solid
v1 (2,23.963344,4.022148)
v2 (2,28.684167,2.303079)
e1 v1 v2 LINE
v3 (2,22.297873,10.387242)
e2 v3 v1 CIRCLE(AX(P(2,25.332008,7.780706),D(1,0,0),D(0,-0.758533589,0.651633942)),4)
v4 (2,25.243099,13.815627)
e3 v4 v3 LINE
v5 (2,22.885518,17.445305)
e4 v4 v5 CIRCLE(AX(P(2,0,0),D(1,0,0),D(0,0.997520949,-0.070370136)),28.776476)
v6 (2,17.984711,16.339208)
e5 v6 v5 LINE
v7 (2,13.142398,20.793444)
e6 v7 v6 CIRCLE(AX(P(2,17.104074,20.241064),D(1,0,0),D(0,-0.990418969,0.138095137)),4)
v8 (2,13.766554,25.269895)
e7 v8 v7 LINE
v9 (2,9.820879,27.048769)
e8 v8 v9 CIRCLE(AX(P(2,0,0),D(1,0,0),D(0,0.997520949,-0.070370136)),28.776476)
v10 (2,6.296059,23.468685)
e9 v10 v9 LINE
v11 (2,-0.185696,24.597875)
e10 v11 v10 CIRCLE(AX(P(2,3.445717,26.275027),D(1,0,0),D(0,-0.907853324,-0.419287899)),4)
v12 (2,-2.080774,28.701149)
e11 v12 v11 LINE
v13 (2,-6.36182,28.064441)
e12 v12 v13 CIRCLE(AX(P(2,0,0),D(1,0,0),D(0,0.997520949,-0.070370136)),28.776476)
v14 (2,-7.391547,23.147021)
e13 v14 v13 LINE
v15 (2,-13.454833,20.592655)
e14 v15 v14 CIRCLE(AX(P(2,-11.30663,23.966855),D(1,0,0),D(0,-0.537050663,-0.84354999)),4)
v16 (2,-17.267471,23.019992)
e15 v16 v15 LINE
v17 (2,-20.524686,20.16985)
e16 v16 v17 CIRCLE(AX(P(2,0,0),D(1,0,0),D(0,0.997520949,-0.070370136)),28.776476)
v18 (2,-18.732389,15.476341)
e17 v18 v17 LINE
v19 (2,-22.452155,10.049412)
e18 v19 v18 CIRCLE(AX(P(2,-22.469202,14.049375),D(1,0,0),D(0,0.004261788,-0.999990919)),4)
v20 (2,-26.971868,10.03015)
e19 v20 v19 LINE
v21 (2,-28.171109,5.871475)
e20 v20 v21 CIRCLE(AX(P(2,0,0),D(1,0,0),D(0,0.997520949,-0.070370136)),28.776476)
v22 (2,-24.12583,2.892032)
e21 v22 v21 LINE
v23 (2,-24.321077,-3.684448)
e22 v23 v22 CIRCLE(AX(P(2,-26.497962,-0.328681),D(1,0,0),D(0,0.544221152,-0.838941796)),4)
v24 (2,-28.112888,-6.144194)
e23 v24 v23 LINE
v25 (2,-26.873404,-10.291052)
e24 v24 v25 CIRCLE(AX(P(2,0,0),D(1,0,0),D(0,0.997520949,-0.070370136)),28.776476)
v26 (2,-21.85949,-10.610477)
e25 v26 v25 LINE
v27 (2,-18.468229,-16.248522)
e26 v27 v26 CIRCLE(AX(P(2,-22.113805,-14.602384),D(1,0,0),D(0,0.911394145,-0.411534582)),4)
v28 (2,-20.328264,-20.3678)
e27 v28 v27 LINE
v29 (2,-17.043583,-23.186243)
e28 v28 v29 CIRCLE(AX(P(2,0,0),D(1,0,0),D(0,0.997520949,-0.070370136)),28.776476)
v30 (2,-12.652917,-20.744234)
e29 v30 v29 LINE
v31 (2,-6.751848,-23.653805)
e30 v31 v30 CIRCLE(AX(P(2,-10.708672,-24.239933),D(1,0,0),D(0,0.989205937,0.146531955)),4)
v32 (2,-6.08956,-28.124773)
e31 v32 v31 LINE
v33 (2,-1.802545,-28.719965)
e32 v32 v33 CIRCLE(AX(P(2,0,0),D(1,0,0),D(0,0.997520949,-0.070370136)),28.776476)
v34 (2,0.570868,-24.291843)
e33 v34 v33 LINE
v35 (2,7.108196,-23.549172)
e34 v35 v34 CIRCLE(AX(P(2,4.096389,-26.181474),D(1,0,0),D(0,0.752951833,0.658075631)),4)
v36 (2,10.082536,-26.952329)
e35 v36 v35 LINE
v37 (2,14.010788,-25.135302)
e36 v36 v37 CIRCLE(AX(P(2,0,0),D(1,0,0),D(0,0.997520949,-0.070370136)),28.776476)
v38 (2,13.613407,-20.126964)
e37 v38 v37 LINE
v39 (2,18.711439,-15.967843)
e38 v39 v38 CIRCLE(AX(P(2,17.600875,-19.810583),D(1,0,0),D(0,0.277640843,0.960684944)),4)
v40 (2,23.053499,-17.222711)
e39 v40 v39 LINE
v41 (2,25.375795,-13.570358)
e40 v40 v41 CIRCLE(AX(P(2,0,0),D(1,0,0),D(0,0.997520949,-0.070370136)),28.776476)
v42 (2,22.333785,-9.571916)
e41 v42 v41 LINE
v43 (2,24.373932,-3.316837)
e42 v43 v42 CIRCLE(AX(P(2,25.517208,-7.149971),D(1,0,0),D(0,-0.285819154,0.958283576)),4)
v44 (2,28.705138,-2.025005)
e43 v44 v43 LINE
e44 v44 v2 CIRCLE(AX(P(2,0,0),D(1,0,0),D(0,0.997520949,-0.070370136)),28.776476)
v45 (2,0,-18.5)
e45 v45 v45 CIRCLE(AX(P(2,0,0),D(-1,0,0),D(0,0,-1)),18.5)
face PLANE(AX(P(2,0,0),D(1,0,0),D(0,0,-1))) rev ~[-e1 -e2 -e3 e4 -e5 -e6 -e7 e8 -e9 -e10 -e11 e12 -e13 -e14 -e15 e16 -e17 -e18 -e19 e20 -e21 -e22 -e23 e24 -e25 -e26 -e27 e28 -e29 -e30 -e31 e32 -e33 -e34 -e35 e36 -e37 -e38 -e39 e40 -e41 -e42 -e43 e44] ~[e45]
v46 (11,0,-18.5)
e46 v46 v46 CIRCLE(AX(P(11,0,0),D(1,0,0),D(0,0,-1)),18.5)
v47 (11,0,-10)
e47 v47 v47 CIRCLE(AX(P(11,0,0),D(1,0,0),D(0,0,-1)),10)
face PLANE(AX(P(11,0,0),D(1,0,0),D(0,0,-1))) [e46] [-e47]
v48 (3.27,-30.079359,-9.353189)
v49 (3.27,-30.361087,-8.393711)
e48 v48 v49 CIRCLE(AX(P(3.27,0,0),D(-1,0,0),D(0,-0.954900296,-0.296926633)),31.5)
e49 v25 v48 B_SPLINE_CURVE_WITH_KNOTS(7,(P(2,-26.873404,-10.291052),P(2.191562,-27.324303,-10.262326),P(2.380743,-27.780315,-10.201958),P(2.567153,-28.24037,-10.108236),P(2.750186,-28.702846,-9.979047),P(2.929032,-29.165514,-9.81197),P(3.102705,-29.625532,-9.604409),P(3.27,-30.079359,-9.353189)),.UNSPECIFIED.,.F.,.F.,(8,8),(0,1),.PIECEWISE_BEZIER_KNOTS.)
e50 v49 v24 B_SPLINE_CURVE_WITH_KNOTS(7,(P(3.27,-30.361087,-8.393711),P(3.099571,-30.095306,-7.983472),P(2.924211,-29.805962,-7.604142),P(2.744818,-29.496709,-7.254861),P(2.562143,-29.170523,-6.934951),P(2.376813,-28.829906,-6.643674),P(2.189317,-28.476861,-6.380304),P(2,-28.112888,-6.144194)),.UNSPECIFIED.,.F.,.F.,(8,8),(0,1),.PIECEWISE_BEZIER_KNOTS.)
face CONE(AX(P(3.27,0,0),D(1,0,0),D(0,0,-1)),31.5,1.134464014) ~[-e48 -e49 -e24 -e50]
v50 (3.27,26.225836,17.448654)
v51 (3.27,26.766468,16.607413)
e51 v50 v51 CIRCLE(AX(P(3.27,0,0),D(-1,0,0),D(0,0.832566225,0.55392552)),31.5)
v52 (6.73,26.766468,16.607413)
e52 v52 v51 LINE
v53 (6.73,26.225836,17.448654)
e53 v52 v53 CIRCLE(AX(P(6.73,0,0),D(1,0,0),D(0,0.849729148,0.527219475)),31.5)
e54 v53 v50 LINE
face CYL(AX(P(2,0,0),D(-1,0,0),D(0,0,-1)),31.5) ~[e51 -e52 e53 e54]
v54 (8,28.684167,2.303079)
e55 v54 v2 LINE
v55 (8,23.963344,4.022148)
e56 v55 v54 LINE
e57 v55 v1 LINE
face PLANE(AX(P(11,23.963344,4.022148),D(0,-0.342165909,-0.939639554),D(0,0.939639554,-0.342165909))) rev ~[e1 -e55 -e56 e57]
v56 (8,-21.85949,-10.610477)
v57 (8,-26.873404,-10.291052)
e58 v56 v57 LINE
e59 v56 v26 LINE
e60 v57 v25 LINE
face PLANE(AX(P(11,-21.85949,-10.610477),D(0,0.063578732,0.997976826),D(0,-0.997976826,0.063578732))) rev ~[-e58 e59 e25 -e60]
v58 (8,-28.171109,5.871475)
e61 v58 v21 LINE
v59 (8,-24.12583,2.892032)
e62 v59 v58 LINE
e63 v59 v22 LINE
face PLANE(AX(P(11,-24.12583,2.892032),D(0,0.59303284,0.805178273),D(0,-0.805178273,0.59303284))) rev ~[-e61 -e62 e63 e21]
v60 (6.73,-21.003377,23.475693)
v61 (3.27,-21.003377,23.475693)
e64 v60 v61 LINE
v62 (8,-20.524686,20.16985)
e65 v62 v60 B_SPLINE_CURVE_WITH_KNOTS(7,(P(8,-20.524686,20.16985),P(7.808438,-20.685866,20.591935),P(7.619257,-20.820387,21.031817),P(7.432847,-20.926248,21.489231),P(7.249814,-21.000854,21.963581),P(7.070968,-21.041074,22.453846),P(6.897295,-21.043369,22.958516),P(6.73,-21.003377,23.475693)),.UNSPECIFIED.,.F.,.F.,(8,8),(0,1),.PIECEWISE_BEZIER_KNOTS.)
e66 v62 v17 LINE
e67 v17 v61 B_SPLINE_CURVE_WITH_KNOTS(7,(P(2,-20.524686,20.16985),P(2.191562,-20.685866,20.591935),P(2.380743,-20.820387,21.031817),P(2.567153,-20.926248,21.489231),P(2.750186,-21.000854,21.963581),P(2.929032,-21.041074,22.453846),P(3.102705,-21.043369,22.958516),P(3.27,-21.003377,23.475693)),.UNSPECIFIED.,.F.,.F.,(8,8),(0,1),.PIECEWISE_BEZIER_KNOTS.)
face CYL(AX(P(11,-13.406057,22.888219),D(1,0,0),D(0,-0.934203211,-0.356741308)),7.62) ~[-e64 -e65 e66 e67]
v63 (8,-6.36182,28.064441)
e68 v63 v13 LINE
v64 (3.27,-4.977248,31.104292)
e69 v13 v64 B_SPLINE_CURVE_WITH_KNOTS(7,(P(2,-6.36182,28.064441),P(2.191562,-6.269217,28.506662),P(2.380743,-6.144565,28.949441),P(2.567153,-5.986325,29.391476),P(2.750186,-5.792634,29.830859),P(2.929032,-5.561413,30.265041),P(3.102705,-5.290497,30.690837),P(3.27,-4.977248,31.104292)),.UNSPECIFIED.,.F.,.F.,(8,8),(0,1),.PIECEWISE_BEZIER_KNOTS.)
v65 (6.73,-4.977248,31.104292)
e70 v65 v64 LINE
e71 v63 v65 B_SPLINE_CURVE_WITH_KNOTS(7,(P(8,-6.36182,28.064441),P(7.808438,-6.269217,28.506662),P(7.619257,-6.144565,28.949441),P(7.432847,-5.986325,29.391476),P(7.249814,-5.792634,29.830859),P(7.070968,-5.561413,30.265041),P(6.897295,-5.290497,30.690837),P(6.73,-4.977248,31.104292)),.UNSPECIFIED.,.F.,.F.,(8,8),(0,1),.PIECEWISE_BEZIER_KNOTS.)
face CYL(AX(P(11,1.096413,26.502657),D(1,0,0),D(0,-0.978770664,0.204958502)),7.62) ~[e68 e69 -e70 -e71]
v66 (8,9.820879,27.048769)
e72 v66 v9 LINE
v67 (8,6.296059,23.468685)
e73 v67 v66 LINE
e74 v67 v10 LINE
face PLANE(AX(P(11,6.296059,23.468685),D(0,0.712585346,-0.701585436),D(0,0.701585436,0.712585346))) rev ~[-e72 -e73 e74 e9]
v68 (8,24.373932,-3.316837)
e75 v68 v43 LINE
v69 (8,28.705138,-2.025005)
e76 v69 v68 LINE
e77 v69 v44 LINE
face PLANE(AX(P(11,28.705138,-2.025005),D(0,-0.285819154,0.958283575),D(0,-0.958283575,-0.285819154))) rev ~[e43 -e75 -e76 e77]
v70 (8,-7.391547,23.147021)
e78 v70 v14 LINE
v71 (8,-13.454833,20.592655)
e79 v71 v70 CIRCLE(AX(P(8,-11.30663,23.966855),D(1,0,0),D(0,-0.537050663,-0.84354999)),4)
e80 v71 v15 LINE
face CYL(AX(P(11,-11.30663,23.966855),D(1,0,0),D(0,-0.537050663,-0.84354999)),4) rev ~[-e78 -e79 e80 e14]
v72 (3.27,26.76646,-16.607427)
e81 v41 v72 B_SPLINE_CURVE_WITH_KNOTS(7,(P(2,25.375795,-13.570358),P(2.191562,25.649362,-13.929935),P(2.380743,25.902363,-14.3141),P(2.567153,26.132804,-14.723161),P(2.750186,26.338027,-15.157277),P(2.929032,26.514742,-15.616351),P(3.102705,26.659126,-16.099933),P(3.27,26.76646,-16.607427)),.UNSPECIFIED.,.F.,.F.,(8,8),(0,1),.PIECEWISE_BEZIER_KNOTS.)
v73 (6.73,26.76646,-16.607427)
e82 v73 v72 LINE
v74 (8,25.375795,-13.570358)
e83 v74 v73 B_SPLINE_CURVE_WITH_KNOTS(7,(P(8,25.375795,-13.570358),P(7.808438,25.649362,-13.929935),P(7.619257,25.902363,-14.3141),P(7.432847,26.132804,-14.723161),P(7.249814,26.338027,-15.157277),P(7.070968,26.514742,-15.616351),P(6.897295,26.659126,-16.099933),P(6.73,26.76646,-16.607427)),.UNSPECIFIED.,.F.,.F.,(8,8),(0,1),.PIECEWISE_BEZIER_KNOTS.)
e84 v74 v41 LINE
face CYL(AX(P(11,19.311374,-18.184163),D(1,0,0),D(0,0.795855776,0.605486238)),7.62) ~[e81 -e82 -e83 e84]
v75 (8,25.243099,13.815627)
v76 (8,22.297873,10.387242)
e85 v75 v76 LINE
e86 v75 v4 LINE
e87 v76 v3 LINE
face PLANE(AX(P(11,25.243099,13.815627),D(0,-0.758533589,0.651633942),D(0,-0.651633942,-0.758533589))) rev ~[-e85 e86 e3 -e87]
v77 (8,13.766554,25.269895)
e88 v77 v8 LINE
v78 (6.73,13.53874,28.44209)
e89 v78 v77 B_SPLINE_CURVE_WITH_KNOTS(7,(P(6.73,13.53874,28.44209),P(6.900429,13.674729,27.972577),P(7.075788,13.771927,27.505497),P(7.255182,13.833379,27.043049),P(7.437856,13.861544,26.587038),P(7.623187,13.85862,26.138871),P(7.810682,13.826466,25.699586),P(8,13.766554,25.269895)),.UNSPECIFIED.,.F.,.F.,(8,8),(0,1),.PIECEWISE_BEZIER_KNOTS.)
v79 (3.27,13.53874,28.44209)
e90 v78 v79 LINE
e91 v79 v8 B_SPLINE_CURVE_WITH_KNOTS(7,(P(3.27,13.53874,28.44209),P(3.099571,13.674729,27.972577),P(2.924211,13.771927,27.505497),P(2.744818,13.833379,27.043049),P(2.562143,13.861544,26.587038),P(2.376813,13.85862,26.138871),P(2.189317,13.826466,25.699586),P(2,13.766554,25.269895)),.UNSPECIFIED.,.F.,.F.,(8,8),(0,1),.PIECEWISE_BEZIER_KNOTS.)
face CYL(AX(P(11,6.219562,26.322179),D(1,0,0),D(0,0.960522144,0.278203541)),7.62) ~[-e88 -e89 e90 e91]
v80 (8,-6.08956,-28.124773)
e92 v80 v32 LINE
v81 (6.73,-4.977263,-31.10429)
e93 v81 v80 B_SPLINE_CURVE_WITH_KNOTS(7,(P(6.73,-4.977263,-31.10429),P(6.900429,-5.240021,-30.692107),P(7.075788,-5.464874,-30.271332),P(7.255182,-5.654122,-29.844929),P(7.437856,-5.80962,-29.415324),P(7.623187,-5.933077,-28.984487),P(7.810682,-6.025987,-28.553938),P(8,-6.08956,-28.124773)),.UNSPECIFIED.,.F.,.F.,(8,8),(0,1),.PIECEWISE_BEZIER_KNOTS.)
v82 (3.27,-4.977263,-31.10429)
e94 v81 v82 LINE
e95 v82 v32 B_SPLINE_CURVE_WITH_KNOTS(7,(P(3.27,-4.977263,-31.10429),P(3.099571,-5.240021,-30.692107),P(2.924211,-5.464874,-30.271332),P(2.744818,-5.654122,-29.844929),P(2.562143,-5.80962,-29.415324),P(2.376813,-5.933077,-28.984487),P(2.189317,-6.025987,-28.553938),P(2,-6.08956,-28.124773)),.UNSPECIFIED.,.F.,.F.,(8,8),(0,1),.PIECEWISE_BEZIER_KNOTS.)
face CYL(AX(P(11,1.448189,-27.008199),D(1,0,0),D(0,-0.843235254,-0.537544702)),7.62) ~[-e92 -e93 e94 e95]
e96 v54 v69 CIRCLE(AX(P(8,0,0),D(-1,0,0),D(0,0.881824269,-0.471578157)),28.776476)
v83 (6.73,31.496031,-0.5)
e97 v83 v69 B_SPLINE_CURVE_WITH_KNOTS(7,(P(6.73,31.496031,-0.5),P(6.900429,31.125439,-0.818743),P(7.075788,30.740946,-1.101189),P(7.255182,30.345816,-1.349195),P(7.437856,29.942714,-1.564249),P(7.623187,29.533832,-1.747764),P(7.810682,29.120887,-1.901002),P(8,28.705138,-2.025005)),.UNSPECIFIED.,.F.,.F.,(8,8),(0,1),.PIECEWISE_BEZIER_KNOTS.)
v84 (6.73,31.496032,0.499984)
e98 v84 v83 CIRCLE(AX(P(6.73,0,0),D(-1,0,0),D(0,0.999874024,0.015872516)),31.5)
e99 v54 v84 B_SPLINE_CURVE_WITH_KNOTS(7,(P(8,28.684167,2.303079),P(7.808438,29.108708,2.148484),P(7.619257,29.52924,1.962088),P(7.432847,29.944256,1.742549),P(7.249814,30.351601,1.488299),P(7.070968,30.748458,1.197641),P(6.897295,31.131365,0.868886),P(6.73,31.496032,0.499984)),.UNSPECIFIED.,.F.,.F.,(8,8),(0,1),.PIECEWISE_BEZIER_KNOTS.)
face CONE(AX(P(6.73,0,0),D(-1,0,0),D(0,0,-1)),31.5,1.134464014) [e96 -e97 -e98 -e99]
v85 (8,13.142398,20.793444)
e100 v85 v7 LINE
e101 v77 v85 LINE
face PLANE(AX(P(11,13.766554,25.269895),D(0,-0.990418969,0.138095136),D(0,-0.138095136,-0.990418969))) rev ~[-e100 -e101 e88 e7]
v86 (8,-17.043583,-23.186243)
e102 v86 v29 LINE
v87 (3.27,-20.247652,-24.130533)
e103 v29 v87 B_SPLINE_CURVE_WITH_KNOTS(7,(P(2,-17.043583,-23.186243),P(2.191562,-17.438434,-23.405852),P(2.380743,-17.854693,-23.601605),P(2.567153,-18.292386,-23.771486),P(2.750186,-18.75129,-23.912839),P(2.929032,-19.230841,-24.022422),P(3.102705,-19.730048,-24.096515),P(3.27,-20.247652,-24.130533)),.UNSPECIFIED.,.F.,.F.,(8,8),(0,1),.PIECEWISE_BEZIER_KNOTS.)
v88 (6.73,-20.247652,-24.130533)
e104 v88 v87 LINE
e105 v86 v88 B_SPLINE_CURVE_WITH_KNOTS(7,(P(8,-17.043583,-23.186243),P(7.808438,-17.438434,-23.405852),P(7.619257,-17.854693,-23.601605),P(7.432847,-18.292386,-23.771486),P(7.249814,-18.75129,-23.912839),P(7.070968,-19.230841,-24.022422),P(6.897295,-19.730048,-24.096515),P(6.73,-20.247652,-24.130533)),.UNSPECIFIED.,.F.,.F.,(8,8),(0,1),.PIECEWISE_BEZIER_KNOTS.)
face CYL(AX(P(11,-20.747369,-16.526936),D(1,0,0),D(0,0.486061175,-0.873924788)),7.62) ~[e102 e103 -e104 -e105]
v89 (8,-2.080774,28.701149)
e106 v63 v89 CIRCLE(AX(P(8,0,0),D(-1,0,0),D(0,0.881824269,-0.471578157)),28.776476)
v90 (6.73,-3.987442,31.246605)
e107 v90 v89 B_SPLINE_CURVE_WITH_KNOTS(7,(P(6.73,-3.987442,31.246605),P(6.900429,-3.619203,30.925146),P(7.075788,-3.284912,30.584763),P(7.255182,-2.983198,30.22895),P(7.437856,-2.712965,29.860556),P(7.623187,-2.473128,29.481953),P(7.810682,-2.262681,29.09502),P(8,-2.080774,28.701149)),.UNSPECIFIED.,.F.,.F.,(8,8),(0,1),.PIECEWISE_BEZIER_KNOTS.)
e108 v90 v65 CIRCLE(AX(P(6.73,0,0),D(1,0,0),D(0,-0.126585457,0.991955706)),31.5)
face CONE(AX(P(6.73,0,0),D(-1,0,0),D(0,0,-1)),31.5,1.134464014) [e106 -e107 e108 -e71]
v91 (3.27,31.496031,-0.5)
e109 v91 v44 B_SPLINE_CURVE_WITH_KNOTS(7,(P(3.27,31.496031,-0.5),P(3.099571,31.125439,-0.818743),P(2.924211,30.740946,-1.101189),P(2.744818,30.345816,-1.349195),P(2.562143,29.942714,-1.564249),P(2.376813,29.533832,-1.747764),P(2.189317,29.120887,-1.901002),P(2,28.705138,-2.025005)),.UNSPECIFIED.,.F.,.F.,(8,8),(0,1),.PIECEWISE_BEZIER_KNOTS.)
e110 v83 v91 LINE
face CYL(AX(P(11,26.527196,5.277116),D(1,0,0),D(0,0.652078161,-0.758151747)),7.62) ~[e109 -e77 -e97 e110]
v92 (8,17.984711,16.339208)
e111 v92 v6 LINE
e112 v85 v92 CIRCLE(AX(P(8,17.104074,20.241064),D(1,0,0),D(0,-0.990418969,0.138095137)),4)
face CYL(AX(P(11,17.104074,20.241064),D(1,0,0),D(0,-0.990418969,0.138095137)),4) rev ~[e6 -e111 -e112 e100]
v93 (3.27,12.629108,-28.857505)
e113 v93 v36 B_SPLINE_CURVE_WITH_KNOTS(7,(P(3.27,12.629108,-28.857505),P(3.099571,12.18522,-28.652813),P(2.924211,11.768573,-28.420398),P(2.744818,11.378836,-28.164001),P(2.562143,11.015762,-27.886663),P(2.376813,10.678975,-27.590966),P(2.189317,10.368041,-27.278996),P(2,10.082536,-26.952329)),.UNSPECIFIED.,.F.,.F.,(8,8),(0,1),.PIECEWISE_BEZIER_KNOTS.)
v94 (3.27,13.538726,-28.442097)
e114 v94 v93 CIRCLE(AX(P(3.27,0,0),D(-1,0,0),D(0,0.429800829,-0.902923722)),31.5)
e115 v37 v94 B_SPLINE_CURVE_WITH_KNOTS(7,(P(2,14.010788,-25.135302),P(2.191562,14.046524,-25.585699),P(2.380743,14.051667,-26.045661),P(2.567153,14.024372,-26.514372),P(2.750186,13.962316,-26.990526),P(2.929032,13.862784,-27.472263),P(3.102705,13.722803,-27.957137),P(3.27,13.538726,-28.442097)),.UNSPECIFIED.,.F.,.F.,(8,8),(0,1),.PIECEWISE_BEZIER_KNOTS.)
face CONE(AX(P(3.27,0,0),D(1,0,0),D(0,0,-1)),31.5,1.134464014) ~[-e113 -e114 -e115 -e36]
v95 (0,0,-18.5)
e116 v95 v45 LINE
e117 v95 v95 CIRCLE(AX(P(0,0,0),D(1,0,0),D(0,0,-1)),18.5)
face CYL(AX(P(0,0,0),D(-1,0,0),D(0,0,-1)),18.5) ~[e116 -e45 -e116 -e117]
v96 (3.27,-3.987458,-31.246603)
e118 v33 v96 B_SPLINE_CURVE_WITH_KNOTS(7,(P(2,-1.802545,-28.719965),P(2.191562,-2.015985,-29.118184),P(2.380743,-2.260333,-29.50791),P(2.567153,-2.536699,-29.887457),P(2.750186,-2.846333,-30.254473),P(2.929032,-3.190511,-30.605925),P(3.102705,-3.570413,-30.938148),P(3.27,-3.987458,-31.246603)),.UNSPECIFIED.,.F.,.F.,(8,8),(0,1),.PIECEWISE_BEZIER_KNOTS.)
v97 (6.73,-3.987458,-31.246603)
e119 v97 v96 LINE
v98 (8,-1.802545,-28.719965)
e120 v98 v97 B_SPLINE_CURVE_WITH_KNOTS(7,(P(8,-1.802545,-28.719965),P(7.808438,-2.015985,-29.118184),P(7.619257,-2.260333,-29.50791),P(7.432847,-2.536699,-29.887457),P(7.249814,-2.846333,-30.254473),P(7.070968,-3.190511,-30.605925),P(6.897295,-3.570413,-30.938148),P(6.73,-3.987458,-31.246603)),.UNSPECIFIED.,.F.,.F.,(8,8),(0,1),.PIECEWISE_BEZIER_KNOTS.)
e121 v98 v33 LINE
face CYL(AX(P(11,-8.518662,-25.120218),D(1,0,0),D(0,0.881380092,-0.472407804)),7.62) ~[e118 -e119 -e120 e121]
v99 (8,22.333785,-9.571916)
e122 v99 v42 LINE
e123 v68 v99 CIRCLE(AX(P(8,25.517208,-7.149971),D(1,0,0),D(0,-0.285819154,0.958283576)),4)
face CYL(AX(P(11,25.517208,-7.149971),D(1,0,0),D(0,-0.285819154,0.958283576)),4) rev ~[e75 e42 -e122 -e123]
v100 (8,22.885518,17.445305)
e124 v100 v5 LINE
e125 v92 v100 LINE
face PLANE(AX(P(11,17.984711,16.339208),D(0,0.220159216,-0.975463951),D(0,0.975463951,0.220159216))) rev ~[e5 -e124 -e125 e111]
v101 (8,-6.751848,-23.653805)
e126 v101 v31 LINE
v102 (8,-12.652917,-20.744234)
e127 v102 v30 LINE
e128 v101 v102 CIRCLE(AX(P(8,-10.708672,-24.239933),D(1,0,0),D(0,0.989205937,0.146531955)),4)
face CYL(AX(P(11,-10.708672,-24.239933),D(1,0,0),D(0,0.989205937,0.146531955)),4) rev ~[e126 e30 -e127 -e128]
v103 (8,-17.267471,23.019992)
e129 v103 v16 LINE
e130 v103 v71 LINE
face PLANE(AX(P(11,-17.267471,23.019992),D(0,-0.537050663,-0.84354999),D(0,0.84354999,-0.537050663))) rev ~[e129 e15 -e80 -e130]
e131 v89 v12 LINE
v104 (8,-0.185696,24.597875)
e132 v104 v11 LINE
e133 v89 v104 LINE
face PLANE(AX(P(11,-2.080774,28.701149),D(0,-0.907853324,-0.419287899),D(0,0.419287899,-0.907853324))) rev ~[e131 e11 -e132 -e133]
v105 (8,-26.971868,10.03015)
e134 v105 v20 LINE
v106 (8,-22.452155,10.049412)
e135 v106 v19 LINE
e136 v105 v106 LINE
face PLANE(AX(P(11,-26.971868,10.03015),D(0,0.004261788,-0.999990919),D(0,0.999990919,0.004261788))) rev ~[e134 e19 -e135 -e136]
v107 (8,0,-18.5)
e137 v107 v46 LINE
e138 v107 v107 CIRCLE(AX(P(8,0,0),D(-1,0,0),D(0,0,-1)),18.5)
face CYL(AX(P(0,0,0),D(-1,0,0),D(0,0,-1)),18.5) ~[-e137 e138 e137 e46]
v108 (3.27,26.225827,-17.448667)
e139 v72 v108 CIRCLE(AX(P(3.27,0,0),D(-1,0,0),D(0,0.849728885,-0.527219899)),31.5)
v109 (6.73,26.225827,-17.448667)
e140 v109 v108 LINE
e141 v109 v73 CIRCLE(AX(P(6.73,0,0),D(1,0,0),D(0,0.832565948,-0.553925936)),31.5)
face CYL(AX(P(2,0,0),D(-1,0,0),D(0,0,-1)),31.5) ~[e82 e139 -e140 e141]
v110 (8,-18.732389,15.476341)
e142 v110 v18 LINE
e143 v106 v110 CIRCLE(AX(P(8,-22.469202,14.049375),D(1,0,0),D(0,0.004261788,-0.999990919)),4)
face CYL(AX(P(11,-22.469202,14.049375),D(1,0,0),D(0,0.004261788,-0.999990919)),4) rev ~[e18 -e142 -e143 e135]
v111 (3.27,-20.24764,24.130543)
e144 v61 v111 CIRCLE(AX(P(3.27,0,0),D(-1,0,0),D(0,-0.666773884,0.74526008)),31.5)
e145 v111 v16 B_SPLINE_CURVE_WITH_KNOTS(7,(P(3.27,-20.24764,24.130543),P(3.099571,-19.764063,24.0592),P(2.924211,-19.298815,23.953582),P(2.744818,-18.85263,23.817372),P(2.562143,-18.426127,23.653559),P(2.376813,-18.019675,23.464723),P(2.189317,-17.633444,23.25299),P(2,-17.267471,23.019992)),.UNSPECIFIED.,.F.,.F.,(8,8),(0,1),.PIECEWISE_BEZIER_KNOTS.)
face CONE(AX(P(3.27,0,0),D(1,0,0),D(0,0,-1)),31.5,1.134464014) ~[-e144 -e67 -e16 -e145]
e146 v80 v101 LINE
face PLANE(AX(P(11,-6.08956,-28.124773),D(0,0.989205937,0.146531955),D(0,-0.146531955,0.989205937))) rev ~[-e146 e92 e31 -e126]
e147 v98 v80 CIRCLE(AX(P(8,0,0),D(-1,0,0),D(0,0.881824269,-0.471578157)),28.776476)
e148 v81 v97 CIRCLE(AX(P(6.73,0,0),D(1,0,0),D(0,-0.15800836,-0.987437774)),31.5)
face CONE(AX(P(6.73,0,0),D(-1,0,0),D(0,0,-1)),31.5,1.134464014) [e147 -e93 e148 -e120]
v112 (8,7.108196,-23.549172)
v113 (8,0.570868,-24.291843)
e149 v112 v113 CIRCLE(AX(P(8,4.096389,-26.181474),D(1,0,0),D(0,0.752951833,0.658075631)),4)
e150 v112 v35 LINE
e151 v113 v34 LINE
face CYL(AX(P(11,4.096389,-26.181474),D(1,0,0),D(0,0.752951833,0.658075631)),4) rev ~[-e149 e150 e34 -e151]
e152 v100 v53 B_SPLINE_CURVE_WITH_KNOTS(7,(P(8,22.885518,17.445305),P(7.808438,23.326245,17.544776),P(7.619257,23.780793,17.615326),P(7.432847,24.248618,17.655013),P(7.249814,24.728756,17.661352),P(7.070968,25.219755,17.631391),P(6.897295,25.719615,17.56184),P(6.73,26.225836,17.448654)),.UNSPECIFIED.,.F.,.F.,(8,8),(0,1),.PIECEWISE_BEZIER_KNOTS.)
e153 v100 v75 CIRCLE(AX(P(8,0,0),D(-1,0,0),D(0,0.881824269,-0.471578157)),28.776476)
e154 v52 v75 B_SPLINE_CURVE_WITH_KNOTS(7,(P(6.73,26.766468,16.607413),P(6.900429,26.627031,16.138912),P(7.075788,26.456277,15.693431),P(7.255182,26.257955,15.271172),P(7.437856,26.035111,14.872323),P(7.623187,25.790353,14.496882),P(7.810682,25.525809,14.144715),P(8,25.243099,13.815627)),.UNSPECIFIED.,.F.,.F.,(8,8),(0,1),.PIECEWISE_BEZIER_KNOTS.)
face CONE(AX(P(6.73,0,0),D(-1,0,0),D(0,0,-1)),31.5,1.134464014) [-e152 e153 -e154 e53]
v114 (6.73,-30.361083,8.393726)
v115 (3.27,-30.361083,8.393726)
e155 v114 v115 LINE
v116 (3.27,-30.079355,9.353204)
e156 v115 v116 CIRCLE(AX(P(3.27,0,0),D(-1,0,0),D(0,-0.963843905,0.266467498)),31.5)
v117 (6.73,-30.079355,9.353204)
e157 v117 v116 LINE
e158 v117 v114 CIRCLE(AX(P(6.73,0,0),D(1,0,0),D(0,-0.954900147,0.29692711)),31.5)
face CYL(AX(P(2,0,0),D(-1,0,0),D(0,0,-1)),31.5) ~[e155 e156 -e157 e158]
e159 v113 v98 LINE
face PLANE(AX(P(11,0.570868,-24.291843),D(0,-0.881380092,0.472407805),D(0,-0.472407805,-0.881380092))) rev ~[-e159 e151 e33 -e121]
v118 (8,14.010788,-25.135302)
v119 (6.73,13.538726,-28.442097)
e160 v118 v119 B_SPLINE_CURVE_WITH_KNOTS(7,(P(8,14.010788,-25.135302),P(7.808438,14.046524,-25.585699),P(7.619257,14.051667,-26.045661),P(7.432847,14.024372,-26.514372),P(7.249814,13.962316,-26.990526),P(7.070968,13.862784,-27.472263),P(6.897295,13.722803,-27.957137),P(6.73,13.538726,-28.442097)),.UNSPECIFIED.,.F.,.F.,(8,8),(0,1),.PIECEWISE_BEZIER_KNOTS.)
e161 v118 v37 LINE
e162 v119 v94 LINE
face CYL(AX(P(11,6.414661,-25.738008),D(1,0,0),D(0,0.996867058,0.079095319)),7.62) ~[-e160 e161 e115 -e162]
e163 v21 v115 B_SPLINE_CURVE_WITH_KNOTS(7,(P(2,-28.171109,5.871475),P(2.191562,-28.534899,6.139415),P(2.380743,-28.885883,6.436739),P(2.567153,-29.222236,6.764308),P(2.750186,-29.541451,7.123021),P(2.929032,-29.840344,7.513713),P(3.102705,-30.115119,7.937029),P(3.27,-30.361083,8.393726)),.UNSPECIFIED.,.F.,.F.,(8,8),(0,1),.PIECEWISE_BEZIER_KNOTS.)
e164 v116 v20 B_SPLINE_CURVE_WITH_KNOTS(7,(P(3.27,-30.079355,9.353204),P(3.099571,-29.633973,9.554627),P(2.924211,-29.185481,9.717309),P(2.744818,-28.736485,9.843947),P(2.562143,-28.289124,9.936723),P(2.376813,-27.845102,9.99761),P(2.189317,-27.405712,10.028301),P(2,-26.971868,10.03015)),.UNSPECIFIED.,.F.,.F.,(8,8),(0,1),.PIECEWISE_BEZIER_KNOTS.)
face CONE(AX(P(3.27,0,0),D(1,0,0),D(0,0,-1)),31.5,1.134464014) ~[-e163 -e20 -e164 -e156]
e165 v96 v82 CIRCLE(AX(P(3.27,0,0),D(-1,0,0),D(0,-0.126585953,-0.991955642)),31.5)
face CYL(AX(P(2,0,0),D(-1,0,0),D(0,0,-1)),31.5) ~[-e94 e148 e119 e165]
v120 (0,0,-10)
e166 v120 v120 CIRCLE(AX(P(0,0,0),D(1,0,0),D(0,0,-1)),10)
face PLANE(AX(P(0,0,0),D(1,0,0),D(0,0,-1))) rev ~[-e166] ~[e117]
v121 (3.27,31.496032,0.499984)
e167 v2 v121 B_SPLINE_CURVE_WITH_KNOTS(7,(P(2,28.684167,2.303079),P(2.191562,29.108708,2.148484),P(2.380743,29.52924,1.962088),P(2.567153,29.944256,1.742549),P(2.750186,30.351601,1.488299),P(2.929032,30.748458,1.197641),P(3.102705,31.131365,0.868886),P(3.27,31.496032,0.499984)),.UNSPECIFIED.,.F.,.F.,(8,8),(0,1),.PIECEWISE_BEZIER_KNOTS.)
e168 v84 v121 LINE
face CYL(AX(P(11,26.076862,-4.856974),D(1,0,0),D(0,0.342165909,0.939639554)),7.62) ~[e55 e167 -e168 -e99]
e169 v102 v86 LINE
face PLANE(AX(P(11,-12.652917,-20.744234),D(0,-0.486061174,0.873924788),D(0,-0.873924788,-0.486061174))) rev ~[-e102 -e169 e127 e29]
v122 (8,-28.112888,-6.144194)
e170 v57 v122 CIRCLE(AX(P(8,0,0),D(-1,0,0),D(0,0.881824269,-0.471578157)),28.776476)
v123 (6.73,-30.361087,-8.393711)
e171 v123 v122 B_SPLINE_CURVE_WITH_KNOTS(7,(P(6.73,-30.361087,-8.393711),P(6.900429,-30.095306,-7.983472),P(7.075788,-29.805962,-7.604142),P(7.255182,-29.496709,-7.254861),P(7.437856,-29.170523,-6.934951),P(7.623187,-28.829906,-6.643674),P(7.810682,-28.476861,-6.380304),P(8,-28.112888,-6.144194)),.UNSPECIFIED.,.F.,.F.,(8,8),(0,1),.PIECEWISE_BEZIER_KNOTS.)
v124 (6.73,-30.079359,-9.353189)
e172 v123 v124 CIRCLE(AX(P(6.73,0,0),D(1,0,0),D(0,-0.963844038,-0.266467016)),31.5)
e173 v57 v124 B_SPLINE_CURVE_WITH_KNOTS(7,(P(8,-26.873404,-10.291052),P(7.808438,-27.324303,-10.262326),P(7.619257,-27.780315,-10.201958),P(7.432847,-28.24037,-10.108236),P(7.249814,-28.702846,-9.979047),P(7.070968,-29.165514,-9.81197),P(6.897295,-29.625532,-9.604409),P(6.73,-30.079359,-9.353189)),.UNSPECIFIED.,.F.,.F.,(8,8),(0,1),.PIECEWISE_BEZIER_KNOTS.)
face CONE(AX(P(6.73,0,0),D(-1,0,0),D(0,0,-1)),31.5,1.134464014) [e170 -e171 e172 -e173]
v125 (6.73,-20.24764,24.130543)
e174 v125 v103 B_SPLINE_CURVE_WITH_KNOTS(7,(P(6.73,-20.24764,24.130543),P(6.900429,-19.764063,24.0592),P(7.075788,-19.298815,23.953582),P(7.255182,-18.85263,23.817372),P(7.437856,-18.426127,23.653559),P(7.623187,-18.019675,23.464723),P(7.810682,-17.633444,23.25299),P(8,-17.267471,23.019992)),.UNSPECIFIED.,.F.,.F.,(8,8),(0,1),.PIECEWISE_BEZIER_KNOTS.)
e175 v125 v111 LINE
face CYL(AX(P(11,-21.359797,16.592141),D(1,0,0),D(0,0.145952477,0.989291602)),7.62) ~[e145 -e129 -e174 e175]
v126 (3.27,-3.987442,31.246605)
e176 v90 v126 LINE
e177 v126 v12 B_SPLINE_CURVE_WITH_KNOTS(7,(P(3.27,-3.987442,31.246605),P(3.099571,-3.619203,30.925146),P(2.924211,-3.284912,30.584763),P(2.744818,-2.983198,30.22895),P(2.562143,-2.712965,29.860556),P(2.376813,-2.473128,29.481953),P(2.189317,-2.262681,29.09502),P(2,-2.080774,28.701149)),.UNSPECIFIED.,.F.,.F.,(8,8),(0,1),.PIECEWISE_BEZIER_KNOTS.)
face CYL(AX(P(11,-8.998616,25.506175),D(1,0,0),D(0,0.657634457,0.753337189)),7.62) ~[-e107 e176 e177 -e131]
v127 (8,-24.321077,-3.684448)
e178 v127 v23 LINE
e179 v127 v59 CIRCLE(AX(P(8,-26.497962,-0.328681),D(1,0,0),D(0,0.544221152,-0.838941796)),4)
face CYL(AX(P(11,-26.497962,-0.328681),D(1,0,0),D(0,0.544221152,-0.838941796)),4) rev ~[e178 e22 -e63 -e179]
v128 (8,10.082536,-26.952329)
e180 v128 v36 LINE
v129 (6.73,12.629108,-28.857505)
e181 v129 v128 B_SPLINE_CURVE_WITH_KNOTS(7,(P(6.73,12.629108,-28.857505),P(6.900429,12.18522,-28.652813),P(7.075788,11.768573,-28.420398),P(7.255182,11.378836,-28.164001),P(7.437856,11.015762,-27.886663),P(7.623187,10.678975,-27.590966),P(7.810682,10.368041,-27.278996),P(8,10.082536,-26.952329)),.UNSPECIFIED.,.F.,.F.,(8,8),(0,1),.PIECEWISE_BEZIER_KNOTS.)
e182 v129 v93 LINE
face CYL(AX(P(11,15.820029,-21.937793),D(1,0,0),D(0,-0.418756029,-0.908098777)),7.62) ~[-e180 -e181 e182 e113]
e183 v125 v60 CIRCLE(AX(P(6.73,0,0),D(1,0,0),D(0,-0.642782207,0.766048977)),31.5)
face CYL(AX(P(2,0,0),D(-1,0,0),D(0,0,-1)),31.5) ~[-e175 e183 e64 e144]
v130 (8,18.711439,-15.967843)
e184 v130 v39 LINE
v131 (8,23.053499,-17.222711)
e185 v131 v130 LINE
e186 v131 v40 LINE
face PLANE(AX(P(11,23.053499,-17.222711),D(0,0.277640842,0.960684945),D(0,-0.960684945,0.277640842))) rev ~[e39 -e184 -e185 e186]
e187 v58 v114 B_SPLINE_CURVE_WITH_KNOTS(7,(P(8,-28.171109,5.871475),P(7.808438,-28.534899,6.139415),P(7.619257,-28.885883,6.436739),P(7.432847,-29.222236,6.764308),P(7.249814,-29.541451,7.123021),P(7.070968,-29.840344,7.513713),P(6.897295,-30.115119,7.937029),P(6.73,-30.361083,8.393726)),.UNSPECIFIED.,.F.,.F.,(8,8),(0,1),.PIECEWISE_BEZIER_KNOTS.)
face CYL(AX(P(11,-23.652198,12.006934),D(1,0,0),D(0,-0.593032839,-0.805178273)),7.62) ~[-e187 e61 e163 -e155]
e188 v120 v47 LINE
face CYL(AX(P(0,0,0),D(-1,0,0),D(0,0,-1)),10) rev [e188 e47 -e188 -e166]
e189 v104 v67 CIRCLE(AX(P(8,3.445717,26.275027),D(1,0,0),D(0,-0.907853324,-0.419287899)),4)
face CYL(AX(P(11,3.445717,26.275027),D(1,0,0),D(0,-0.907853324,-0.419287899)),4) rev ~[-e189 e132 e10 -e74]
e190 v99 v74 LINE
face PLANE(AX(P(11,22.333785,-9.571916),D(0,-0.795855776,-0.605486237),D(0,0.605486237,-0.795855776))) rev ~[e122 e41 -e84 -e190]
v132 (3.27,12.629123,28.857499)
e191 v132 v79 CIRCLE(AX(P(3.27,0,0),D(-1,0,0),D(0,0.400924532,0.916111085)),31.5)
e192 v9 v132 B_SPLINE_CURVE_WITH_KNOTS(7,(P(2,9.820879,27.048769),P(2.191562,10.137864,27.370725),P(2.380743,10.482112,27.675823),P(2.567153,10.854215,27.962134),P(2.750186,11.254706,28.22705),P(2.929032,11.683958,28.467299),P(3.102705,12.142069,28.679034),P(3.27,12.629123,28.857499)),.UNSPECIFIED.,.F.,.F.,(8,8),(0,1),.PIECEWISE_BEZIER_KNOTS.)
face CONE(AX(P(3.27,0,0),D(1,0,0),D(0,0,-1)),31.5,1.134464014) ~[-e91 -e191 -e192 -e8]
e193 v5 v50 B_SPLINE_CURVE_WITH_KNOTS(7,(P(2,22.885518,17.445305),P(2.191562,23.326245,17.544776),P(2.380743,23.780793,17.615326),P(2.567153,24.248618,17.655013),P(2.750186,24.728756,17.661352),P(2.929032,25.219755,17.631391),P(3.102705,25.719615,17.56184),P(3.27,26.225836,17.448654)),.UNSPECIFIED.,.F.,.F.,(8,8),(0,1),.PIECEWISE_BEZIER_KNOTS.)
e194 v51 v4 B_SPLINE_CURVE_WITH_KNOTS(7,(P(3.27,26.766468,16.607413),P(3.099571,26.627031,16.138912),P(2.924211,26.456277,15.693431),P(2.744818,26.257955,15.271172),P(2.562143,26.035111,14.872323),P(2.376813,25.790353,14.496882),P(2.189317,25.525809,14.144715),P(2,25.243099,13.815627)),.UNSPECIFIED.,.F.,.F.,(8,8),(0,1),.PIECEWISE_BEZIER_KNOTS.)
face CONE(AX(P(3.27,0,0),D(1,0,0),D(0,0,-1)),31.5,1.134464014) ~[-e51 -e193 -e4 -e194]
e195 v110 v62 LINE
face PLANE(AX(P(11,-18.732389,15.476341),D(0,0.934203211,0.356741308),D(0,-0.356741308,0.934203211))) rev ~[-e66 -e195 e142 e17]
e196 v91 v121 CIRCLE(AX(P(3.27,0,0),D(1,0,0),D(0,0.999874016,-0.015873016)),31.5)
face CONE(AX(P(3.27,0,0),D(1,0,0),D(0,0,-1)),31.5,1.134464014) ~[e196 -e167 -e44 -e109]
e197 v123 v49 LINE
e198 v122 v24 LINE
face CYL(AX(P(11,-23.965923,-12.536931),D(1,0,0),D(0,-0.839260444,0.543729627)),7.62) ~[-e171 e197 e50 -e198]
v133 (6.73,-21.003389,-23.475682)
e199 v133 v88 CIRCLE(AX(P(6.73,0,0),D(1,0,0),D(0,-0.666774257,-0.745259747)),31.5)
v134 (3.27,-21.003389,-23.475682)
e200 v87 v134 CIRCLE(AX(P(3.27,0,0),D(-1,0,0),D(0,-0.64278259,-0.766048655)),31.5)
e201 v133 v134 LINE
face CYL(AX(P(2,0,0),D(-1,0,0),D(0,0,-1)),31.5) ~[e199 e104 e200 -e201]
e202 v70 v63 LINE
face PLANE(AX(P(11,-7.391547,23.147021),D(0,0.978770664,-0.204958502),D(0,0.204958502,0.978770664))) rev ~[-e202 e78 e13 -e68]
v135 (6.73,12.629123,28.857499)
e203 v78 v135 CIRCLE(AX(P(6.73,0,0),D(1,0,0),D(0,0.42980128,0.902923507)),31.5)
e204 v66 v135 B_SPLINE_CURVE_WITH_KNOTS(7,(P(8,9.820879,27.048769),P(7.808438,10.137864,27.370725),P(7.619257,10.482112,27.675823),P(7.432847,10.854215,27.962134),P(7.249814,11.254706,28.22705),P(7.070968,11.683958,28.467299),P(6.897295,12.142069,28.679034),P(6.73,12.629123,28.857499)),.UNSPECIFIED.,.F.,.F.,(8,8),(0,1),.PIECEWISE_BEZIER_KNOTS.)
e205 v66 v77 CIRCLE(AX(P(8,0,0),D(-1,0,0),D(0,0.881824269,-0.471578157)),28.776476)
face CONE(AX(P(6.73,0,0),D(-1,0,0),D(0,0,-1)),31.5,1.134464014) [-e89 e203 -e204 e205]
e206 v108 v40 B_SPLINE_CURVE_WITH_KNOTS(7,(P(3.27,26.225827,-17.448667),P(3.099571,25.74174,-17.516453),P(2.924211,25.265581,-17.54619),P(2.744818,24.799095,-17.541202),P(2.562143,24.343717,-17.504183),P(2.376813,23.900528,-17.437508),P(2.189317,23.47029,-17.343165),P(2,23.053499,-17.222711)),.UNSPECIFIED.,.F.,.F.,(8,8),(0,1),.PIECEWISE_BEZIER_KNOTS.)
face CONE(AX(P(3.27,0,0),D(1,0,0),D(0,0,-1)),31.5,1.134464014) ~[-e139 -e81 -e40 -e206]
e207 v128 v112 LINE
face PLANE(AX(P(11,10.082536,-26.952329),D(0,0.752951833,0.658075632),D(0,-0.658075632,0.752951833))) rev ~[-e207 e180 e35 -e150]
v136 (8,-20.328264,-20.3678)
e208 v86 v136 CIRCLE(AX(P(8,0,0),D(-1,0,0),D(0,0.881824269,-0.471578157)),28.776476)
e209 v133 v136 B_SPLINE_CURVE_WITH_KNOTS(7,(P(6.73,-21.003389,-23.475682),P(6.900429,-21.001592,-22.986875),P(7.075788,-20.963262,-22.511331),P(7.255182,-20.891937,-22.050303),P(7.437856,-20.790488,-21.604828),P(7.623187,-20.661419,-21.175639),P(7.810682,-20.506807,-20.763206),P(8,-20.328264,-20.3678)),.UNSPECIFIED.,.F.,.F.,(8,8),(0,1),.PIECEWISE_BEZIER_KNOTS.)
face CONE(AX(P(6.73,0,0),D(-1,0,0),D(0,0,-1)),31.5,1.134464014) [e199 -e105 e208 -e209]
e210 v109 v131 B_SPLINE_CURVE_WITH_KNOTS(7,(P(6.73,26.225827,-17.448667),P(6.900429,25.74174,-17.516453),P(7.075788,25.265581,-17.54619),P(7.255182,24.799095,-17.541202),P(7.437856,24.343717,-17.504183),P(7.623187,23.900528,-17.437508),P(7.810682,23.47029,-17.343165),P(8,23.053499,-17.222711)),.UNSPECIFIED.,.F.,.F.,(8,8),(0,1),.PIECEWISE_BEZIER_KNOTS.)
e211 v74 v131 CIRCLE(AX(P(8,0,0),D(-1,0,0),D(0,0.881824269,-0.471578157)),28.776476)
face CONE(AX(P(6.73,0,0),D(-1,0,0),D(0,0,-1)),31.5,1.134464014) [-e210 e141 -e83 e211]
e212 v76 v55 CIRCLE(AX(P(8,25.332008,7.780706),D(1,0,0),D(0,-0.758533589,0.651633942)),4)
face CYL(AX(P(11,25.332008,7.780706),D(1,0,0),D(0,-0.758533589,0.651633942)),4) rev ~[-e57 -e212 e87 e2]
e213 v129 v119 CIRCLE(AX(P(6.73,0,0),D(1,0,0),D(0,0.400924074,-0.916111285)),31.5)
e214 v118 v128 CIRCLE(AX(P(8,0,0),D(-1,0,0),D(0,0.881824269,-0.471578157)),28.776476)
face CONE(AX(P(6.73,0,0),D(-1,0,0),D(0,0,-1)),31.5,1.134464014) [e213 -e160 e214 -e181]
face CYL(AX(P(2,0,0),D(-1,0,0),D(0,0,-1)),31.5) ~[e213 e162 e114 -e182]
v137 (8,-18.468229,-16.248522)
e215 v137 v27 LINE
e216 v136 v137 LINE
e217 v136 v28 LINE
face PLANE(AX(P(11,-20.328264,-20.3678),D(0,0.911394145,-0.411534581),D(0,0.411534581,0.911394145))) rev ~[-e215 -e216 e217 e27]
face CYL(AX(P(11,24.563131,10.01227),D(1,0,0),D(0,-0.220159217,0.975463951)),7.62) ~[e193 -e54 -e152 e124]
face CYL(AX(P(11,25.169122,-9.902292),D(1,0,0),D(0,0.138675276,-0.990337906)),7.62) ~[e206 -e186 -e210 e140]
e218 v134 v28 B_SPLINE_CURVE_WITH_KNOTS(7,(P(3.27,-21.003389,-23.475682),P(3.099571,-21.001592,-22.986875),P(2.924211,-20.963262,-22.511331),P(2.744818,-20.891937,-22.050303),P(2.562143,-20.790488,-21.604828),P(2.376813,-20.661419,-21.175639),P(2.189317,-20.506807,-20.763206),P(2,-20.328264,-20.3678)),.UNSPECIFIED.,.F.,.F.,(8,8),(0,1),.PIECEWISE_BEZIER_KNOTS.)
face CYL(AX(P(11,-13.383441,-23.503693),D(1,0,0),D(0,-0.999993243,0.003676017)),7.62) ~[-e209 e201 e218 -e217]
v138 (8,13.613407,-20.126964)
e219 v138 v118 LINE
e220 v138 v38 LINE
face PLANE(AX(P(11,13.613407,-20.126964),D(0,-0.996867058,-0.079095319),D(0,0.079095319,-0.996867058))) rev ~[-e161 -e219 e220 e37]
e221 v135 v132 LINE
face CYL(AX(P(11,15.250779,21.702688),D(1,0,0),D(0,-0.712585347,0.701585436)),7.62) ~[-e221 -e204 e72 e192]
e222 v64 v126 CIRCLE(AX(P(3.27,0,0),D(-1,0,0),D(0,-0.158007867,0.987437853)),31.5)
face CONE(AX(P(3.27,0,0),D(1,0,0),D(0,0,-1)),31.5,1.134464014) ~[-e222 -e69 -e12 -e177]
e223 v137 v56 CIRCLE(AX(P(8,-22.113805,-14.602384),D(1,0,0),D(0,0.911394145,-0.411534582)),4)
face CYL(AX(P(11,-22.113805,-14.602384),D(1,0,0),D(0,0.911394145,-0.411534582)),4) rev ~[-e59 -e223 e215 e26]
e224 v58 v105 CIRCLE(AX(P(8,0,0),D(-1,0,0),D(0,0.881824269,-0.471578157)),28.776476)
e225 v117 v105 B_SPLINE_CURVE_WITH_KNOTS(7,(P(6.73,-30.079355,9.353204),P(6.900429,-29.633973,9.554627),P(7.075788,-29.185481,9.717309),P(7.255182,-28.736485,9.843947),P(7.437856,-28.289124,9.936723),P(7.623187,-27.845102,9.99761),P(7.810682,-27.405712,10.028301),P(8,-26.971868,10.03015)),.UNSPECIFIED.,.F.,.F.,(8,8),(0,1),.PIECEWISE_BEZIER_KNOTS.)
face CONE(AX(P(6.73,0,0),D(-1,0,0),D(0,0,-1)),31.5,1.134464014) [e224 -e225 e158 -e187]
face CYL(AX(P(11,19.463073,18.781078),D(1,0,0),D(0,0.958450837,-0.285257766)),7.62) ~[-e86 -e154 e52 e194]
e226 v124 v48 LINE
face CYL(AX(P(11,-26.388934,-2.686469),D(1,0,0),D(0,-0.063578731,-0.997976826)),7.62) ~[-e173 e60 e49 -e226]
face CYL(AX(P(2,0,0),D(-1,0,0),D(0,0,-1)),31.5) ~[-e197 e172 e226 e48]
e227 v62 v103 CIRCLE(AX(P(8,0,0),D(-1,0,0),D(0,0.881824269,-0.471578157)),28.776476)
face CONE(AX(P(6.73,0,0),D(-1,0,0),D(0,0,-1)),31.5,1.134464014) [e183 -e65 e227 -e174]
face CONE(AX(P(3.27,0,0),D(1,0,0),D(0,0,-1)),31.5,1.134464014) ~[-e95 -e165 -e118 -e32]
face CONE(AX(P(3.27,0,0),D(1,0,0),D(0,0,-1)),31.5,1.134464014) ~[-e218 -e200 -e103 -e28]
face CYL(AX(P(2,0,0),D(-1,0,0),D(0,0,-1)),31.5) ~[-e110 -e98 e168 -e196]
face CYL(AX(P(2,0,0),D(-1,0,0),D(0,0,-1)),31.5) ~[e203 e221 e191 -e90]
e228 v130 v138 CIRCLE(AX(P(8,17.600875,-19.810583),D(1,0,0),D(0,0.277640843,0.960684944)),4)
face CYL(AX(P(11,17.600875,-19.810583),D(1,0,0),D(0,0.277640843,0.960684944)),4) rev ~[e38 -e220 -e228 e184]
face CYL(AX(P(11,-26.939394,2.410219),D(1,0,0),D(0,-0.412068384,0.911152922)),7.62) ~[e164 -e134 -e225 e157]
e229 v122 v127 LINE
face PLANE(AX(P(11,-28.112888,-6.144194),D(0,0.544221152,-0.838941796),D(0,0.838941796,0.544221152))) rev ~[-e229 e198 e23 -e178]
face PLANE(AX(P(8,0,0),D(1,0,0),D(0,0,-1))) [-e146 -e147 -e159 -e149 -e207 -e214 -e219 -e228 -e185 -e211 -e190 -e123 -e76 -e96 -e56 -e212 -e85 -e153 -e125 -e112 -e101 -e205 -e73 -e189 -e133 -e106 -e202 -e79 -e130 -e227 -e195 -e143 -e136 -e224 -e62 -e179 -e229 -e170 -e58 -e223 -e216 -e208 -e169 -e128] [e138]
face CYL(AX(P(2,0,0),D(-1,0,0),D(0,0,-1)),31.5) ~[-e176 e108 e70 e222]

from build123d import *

# Parameters (mm, degrees)
SKETCH1_R           = 18.5
SKETCH1_R_2         = 10
BOSS_EXTRUDE1_DEPTH = 11
BOSS_EXTRUDE2_START = -6
SKETCH2_R           = 31.5
SKETCH2_R_2         = 10
BOSS_EXTRUDE2_DEPTH = 6
CHAMFER1_SIZE       = 1.27
CHAMFER1_SIZE2      = 2.723523789
CUT_EXTRUDE1_DEPTH  = 46.885727629
CIRPATTERN1_COUNT   = 11


with BuildPart() as part:
    # Sketch1 → Boss-Extrude1 (new body)
    with BuildSketch(Plane(origin=(0, 0, 0), x_dir=(0, 0, -1), z_dir=(1, 0, 0))):
        Circle(SKETCH1_R)
        Circle(SKETCH1_R_2, mode=Mode.SUBTRACT)
    extrude(amount=BOSS_EXTRUDE1_DEPTH)

    # Sketch2 → Boss-Extrude2 (add)
    with BuildSketch(Plane(origin=(7.999999904, 0, 0), x_dir=(0, 0, -1), z_dir=(1, 0, 0)).offset(BOSS_EXTRUDE2_START)):
        Circle(SKETCH2_R)
        Circle(SKETCH2_R_2, mode=Mode.SUBTRACT)
    extrude(amount=BOSS_EXTRUDE2_DEPTH)

    # Chamfer1
    chamfer1_edges = [part.edges().sort_by_distance(p)[0] for p in [
        (1.999999904, 0, 31.5),
        (7.999999904, 0, 31.5),
    ]]
    chamfer1_side = [part.faces().sort_by_distance(p)[0] for p in [
        (4.999999904, 0, 31.5),
    ]]
    chamfer(chamfer1_edges, length=CHAMFER1_SIZE, length2=CHAMFER1_SIZE2, reference=chamfer1_side[0])

    # Sketch3 → Cut-Extrude1 (cut, through all)
    with BuildSketch(Plane(origin=(11, 0, 0), x_dir=(0, 0, -1), z_dir=(1, 0, 0))):
        with BuildLine():
            Line((2.025004531, 28.705137864), (3.316836887, 24.373931538))
            ThreePointArc((3.316836887, 24.373931538), (5.909643301, 21.714368856), (9.571916138, 22.33378505))
            Line((9.571916138, 22.33378505), (13.570357606, 25.375795112))
            ThreePointArc((13.570357606, 25.375795112), (15.011752501, 26.239592723), (16.607426831, 26.766459872))
            ThreePointArc((16.607426831, 26.766459872), (16.819336008, 26.633811898), (17.03018575, 26.499486284))
            Line((17.03018575, 26.499486284), (18.753086107, 29.492558003))
            Line((18.753086107, 29.492558003), (0, 32.610896361))
            Line((0, 32.610896361), (0, 31.5))
            ThreePointArc((0, 31.5), (0.250007874, 31.499007858), (0.5, 31.496031496))
            ThreePointArc((0.5, 31.496031496), (1.409727709, 30.18103184), (2.025004531, 28.705137864))
        make_face()
    cut_extrude1 = extrude(amount=-CUT_EXTRUDE1_DEPTH, mode=Mode.SUBTRACT)

    # CirPattern1: Cut-Extrude1 ×11 about axis
    cirpattern1_axis = Axis((11, 0, 0), (-1, 0, 0))
    for i in range(1, CIRPATTERN1_COUNT):
        add(cut_extrude1.rotate(cirpattern1_axis, i * 360 / CIRPATTERN1_COUNT), mode=Mode.SUBTRACT)


solid = part.part
